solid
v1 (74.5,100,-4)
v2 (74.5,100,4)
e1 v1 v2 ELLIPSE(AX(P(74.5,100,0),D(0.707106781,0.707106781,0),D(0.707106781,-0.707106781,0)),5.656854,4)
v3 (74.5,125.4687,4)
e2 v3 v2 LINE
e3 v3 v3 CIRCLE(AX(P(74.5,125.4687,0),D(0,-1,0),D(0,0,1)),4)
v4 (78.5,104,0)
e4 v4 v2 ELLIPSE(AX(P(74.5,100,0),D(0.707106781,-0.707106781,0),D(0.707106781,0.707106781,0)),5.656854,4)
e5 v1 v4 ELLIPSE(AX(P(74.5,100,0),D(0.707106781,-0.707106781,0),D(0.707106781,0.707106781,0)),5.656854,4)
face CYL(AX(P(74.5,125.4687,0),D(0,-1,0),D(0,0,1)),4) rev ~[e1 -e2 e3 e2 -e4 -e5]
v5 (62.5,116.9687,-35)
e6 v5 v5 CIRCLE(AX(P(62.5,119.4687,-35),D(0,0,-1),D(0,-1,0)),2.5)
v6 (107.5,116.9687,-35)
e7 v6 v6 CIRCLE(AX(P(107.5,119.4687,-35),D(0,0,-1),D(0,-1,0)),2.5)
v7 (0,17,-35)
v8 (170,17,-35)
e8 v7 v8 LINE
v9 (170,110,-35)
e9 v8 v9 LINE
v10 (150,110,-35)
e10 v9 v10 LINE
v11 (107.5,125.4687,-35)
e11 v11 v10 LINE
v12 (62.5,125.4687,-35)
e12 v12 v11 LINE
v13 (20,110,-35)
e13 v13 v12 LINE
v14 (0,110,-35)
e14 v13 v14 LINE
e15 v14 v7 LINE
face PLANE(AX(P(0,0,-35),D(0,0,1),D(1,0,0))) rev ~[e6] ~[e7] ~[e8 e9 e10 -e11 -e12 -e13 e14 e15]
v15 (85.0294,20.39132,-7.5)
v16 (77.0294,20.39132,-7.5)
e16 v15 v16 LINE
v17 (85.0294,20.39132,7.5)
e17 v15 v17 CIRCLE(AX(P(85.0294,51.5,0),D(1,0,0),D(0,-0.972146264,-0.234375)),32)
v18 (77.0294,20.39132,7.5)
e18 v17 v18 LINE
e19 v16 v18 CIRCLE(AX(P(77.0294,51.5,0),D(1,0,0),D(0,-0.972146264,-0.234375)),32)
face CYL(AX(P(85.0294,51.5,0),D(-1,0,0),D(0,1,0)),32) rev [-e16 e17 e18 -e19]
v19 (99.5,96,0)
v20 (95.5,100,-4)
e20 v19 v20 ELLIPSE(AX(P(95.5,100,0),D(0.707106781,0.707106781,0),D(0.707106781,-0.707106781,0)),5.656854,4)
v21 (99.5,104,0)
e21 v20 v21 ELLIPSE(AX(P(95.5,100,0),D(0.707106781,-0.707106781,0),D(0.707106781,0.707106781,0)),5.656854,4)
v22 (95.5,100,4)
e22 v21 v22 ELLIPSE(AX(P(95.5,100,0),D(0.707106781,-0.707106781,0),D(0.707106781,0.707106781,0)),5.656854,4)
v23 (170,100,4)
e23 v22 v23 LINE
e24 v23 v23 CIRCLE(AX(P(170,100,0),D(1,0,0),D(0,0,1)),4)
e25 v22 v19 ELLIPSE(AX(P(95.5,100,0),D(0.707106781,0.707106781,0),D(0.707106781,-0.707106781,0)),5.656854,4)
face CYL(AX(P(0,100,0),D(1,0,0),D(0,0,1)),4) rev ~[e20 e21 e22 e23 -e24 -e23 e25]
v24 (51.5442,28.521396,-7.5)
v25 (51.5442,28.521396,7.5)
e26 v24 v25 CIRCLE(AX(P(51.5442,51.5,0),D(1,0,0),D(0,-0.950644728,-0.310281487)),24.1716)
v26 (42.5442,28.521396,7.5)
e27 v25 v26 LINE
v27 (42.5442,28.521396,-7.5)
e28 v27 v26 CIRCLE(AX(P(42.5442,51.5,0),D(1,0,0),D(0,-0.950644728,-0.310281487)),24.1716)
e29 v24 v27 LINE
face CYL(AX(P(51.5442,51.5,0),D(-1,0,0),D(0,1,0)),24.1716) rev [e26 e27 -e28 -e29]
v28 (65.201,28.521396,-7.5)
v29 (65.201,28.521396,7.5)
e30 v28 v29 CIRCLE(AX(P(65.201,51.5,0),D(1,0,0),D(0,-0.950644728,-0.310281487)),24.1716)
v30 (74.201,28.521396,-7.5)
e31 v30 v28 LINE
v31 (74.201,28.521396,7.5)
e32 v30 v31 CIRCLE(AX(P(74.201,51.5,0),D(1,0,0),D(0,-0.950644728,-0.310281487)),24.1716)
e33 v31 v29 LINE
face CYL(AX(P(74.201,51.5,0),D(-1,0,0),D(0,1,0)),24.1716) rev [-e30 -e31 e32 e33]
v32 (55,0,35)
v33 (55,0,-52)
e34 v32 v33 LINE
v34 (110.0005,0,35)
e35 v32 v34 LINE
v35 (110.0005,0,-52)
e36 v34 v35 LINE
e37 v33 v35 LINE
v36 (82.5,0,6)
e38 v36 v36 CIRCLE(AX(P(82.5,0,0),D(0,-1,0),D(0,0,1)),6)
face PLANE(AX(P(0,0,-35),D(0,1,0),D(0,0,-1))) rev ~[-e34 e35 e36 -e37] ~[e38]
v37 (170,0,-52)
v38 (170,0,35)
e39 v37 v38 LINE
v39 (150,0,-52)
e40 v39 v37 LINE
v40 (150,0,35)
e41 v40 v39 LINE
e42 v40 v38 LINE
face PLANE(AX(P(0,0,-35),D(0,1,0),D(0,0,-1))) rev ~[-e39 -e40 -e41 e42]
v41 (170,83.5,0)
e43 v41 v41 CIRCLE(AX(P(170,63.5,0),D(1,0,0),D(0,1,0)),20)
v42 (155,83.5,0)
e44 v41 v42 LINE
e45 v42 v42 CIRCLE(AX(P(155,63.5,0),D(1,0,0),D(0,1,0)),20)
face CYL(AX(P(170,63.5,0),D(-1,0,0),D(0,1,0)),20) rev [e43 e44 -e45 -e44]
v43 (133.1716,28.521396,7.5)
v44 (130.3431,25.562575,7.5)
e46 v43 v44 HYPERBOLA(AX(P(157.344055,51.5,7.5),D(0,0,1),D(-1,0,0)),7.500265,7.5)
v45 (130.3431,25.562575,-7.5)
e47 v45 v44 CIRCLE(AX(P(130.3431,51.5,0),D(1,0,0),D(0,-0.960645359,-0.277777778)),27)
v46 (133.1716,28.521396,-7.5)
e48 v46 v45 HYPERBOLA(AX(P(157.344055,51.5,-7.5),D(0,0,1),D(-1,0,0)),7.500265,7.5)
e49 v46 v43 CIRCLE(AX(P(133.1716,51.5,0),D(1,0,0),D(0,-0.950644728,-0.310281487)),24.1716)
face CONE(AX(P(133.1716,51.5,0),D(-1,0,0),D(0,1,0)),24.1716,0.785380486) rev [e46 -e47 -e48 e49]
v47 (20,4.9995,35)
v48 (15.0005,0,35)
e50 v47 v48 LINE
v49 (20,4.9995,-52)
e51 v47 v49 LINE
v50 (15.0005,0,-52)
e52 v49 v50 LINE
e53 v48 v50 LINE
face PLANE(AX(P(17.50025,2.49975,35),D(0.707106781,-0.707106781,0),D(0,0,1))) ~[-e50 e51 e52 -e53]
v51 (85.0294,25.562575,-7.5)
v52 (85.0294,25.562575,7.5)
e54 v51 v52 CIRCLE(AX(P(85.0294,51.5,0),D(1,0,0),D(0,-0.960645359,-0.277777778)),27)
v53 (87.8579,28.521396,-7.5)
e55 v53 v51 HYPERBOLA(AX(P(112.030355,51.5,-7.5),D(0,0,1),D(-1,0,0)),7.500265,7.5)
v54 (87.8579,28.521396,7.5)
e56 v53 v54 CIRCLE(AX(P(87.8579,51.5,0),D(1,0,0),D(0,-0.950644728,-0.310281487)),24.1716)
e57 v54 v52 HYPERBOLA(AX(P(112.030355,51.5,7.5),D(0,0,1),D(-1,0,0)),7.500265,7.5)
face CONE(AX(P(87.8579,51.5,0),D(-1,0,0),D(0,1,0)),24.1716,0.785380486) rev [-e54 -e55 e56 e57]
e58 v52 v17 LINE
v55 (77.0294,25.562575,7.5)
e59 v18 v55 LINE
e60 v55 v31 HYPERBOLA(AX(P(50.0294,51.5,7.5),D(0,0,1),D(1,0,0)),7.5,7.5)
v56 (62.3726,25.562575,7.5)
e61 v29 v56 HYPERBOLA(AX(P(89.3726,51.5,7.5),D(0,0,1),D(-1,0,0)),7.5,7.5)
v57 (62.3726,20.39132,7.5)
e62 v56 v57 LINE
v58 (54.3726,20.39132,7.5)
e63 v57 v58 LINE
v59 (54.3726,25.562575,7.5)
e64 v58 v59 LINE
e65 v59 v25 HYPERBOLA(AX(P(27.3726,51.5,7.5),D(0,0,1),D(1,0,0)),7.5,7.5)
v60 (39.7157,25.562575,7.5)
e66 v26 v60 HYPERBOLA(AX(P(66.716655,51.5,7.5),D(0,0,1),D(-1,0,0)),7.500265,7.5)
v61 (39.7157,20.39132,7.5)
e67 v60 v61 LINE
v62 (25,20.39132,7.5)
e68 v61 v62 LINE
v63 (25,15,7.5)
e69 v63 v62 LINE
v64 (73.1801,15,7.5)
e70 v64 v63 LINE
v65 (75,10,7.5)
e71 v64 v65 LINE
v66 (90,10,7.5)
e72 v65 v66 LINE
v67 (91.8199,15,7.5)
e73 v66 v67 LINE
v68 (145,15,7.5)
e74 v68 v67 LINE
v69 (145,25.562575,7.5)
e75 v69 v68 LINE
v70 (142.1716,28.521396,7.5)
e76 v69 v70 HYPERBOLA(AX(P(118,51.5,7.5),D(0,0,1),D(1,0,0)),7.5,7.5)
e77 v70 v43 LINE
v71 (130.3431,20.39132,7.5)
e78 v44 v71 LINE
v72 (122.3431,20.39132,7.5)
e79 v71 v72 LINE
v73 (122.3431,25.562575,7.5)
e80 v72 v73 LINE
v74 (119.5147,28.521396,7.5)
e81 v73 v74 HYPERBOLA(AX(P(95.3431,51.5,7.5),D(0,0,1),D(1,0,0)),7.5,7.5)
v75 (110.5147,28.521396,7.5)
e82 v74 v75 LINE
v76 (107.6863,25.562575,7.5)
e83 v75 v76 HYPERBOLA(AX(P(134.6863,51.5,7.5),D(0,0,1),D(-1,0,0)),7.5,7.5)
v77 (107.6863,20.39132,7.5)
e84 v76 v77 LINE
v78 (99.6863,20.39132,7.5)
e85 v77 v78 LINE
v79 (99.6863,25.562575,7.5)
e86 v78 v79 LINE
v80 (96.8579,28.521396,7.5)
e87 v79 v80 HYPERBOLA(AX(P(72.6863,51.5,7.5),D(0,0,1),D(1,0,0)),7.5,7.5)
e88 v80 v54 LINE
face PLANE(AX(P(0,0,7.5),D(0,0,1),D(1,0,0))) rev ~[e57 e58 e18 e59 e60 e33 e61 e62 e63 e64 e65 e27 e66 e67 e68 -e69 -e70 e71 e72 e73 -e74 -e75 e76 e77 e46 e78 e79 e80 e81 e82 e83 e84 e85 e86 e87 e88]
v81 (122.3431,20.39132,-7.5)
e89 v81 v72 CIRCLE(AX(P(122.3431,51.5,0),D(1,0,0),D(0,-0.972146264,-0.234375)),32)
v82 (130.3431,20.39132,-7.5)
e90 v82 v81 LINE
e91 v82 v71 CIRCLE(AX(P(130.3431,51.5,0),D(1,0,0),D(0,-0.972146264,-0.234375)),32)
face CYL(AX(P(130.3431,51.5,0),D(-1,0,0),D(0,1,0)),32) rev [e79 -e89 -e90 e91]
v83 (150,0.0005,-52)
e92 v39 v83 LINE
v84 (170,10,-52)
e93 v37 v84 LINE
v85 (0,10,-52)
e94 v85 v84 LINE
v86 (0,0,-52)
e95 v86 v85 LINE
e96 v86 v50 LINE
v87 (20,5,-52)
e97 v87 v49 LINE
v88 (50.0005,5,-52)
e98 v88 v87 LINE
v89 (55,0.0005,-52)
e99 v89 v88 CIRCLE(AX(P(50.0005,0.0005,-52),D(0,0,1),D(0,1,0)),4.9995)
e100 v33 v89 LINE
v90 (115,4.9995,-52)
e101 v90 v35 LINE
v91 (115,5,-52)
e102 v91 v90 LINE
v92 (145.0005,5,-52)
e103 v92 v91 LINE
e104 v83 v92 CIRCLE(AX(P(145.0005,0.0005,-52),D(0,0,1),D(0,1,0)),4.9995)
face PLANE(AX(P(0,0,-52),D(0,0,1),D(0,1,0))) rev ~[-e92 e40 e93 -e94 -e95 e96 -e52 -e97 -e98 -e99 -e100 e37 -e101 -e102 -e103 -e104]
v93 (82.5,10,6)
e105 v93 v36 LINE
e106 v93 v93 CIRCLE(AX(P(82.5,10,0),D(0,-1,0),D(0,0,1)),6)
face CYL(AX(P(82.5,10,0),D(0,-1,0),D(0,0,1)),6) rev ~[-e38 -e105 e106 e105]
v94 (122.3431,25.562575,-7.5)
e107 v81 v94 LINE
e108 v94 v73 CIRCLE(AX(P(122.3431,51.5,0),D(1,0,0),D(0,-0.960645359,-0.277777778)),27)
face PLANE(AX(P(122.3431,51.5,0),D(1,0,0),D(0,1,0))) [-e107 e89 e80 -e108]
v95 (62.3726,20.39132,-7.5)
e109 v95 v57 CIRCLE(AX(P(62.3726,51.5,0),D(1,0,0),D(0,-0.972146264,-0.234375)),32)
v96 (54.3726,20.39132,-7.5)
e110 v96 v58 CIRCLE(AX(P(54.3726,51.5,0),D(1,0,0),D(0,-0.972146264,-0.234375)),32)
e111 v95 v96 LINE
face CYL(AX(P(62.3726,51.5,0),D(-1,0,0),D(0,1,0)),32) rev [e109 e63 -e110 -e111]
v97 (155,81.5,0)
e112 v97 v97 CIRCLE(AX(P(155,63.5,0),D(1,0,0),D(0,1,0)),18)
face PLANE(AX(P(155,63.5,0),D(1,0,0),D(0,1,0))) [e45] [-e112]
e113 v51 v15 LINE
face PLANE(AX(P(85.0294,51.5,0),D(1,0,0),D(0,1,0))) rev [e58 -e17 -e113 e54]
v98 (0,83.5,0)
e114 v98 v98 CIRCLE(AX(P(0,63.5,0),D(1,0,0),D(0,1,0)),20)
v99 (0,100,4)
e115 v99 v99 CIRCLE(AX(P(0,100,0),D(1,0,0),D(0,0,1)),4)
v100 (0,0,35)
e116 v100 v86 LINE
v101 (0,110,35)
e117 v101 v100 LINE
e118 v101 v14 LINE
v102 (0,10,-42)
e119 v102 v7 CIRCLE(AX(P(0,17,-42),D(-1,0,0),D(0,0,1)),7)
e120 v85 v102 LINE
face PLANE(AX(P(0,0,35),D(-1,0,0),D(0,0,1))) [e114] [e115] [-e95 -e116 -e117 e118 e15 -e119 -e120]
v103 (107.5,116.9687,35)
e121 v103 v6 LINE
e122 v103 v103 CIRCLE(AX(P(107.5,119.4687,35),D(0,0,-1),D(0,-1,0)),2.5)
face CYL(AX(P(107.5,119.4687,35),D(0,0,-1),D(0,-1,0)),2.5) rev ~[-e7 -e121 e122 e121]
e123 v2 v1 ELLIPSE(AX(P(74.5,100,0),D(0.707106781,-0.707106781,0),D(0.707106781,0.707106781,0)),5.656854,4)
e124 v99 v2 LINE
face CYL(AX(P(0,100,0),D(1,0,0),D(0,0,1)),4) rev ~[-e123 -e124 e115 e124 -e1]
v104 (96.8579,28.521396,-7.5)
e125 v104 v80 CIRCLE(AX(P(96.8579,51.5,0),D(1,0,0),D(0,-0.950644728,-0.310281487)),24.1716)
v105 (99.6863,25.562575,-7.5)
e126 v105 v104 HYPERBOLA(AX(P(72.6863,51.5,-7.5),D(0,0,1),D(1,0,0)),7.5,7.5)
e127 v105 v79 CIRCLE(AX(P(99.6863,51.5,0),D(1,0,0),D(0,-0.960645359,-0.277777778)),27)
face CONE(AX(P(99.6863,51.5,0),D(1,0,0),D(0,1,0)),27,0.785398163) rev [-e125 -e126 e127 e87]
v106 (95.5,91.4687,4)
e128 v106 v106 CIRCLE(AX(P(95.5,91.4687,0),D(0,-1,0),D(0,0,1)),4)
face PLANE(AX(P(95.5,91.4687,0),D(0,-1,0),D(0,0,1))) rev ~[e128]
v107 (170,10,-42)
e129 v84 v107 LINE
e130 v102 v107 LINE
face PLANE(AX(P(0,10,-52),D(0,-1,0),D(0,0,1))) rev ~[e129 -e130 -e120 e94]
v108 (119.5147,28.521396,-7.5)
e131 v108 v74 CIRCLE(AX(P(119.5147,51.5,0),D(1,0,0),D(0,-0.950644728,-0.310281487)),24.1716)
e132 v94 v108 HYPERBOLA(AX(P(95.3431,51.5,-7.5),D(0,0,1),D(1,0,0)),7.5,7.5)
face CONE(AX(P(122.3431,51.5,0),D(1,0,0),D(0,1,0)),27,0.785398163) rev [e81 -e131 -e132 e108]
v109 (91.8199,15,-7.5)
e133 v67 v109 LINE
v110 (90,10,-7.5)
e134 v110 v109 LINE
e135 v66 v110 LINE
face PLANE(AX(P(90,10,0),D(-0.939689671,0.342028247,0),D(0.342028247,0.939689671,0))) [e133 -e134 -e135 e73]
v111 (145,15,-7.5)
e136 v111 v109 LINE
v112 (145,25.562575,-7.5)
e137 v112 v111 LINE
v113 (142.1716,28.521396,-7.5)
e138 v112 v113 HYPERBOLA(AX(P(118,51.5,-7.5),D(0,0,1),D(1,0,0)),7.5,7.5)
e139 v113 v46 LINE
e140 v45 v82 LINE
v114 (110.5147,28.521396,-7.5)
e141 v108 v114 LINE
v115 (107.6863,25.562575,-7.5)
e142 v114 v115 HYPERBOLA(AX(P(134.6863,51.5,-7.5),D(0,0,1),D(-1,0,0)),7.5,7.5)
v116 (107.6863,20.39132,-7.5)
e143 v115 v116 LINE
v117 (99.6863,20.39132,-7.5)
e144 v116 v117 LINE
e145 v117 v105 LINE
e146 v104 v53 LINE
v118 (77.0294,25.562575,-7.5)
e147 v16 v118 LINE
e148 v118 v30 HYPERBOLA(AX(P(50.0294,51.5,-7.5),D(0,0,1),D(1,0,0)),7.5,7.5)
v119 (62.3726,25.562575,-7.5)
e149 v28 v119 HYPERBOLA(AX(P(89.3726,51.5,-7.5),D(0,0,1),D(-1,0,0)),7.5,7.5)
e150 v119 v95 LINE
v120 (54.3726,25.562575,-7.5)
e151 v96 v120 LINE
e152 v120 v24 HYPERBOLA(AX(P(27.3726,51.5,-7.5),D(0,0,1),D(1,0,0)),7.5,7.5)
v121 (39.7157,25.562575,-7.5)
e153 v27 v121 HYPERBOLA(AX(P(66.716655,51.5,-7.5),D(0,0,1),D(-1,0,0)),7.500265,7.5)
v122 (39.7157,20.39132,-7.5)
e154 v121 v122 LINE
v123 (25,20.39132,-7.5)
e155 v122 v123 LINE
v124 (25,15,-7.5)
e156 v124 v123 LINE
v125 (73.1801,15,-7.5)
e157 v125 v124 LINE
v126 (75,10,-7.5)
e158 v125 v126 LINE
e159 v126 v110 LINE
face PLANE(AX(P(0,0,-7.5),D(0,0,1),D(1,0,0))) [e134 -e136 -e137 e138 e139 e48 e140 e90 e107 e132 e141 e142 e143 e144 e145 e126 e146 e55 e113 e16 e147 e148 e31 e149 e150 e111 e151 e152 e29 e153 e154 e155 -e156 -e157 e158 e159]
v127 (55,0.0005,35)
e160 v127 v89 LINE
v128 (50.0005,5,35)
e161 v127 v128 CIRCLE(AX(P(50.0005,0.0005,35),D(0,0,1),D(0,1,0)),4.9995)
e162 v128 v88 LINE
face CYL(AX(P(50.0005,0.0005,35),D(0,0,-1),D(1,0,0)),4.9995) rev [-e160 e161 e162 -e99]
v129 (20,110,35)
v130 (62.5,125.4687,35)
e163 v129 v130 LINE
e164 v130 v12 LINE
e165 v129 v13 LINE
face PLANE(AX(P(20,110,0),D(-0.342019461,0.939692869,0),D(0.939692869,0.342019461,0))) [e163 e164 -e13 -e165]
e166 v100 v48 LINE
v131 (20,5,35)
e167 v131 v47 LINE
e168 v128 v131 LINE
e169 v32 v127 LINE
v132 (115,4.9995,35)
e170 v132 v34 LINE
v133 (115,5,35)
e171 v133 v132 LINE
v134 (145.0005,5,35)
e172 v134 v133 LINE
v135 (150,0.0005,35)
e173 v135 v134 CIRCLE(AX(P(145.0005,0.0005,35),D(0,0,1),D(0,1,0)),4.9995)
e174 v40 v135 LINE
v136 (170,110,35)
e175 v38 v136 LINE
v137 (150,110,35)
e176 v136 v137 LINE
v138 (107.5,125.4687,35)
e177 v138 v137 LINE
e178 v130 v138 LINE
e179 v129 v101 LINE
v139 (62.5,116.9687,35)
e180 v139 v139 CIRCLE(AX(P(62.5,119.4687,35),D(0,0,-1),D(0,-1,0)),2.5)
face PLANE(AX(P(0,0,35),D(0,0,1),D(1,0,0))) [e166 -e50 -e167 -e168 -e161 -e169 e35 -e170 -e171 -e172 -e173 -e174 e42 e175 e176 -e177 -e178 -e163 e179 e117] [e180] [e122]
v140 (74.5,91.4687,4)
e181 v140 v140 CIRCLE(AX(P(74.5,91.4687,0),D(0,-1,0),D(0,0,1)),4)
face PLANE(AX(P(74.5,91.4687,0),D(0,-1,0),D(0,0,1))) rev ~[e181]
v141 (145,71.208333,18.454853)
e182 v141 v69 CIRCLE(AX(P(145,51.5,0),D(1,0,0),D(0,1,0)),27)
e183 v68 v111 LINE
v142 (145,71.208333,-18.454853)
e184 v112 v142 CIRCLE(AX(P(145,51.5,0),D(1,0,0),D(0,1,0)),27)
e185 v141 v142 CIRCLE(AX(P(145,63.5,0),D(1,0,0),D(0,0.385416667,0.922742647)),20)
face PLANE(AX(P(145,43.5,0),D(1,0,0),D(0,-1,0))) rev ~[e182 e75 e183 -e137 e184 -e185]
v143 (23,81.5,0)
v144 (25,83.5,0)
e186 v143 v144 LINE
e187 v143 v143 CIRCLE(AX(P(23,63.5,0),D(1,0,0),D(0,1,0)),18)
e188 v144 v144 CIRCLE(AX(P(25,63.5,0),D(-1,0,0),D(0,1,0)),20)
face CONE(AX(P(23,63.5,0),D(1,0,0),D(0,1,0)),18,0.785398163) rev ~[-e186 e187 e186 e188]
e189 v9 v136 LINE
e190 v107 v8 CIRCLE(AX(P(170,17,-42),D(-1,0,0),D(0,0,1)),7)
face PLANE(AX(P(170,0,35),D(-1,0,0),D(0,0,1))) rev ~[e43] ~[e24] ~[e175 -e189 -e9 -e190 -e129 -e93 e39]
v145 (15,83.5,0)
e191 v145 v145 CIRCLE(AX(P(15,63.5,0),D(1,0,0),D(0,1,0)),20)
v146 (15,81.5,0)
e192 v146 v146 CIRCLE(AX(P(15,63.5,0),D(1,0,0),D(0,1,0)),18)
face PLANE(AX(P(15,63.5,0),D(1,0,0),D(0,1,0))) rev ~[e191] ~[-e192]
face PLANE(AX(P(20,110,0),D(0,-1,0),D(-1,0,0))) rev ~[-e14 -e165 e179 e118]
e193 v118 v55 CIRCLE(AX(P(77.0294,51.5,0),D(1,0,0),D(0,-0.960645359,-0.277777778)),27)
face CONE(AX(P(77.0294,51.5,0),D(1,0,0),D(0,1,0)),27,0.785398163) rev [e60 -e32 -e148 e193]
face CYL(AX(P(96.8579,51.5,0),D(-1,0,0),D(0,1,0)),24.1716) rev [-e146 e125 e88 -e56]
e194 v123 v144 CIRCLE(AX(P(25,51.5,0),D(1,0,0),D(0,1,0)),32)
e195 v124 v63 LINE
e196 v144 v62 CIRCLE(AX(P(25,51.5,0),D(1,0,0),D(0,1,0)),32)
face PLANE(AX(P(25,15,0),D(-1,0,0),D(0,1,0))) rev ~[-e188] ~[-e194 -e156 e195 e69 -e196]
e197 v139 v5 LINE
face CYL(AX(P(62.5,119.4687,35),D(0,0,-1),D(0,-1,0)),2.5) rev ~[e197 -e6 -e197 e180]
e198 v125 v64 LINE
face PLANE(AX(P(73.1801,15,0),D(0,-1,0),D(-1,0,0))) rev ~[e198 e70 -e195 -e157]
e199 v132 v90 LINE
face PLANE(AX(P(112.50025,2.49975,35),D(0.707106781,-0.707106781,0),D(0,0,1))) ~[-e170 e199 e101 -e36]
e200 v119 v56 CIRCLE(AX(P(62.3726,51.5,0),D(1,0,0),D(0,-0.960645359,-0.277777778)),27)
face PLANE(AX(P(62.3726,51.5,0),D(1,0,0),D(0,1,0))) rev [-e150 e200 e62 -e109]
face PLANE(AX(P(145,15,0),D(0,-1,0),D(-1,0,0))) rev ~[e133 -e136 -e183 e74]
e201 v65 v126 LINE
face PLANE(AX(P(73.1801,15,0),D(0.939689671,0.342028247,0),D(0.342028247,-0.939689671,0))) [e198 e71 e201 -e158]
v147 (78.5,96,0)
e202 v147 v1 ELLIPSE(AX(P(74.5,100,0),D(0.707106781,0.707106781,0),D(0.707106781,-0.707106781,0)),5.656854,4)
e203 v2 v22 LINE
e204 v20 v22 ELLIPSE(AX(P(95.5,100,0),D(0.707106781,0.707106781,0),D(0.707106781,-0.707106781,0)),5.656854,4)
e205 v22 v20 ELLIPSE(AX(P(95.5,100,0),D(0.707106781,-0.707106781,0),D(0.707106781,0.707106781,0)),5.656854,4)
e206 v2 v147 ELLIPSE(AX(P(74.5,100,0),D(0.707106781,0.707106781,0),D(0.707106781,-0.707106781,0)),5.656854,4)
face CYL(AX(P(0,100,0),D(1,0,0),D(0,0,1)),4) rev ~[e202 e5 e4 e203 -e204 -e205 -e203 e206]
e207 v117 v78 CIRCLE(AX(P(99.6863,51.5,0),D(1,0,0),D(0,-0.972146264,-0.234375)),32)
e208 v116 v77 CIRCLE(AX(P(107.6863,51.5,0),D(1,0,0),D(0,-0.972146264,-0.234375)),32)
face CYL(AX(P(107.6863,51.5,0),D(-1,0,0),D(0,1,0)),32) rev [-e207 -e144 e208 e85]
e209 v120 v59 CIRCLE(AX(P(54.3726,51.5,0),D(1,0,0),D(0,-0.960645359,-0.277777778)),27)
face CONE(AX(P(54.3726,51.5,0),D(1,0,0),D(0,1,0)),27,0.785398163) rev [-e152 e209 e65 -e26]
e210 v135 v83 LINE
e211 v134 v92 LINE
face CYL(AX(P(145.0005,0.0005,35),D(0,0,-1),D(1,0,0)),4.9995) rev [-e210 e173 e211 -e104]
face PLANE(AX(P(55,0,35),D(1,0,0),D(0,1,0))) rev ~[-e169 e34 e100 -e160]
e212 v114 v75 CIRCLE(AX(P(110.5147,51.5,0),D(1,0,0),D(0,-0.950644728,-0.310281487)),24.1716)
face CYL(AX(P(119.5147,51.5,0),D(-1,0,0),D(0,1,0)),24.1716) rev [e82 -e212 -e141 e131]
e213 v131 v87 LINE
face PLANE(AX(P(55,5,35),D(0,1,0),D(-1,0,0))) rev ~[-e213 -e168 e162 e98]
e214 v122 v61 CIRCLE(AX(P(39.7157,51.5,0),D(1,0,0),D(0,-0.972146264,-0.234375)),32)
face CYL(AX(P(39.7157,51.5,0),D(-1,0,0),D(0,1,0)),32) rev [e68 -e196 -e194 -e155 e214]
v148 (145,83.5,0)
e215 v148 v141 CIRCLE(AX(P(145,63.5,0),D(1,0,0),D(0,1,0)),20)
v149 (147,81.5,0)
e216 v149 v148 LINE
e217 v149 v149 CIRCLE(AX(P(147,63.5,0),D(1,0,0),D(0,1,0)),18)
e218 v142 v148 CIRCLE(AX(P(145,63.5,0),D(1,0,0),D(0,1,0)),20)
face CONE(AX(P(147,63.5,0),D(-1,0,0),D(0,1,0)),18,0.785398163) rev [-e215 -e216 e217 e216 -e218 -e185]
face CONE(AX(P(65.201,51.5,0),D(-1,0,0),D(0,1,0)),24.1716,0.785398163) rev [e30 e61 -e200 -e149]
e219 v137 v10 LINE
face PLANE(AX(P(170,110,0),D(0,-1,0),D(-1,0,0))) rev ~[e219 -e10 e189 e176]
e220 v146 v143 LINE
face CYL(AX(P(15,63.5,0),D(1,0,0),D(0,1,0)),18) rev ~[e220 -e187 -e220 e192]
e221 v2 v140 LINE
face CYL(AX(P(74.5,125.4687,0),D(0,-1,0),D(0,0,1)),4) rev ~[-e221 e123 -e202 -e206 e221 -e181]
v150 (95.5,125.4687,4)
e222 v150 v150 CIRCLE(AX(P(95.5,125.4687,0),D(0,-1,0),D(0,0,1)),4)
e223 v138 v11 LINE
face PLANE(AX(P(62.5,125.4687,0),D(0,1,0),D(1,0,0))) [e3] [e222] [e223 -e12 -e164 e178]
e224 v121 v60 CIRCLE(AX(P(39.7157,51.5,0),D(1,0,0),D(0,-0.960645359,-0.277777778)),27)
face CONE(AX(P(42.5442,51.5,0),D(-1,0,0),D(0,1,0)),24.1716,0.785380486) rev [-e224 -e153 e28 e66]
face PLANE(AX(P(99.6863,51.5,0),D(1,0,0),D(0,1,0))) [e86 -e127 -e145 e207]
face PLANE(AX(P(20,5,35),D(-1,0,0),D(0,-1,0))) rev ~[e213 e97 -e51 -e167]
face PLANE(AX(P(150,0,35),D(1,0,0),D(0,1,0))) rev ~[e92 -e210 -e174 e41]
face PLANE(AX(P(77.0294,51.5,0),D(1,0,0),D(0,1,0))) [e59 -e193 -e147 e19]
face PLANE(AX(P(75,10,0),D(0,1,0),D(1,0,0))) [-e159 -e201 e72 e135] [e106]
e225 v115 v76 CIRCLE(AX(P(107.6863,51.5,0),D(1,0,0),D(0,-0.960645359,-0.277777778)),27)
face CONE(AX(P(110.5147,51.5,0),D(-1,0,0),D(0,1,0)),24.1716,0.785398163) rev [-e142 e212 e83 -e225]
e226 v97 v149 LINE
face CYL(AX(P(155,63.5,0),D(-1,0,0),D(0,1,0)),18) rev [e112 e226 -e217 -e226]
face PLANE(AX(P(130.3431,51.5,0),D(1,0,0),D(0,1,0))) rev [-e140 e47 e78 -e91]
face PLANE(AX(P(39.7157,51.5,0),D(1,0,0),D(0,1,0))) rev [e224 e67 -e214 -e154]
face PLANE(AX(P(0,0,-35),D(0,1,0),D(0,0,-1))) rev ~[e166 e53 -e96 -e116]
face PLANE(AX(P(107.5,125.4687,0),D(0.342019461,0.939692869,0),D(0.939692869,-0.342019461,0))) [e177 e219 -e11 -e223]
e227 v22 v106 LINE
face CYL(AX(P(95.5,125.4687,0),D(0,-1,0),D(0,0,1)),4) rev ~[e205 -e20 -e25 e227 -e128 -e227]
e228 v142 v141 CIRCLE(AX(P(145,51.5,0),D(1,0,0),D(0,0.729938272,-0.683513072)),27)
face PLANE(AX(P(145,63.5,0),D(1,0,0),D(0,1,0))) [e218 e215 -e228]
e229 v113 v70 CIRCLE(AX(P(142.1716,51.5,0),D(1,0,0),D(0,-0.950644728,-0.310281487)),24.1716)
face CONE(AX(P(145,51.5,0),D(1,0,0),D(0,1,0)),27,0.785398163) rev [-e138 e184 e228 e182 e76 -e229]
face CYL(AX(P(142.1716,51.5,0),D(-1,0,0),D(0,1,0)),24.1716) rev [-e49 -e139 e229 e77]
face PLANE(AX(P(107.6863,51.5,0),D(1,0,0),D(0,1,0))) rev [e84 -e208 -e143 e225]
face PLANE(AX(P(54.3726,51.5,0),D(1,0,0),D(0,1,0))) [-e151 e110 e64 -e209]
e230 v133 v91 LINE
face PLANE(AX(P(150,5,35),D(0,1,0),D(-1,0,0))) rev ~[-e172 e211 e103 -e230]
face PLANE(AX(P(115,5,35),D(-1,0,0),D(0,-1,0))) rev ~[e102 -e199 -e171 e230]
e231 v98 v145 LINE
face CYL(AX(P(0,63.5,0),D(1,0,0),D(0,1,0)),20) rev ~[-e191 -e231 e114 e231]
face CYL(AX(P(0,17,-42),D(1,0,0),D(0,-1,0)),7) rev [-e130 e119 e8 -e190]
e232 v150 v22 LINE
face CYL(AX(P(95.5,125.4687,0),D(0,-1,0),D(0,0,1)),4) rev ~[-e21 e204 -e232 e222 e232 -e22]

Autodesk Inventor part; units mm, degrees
ref_plane "YZ Plane" through (0, 0, 0) normal (1, 0, 0) x (0, 1, 0)
ref_plane "XZ Plane" through (0, 0, 0) normal (0, 1, 0) x (-1, 0, 0)
ref_plane "XY Plane" through (0, 0, 0) normal (0, 0, 1) x (1, 0, 0)
sketch "Эскиз1" plane through (0, 0, 0) normal (0, 0, 1) x (1, 0, 0)
  line L0 (0, 0) -> (170, 0)
  line L1 (170, 0) -> (170, 110)
  line L2 (170, 110) -> (150, 110)
  line L3 (0, 110) -> (0, 0)
  line L4 (20, 110) -> (62.5, 125.4687)
  line L5 (62.5, 125.4687) -> (107.5, 125.4687)
  line L6 (107.5, 125.4687) -> (150, 110)
  line L7 (20, 110) -> (0, 110)
  dimension "d0" = 170
  dimension "d1" = 110
  dimension "d3" = 45
  dimension "d4" = 160
  dimension "d5" = 160
  dimension "d6" = 20
extrude "Выдавливание1" add sketch "Эскиз1" along normal mid plane 70
sketch "Эскиз2" plane through (0, 0, 35) normal (-1, 0, 0) x (0, 0, 1)
  line L0 (-70, 0) -> (-87, 0)
  line L1 (-87, 0) -> (-87, 10)
  line L2 (-87, 10) -> (-70, 10)
  line L3 (-70, 10) -> (-70, 0)
  point P0 (-35, 0)
  dimension "d9" = 17
  dimension "d10" = 10
extrude "Выдавливание2" add sketch "Эскиз2" against normal blind 170
fillet "Сопряжение1" radius 7 1 edges at (85, 10, -35)
sketch "Эскиз3" plane through (0, 0, 35) normal (0, 0, 1) x (1, 0, 0)
  line L0 (0, 0) -> (170, 0) construction
  line L1 (20, 0) -> (55, 0)
  line L2 (55, 0) -> (55, 5)
  line L3 (55, 5) -> (20, 5)
  line L4 (20, 5) -> (20, 0)
  line L5 (115, 0) -> (150, 0)
  line L6 (150, 0) -> (150, 5)
  line L7 (150, 5) -> (115, 5)
  line L8 (115, 5) -> (115, 0)
  line L9 (20, 5) -> (0, 5) construction
  line L10 (0, 110) -> (0, 0) construction
  line L11 (115, 5) -> (55, 5) construction
  line L12 (150, 5) -> (170, 5) construction
  line L13 (170, 0) -> (170, 110) construction
  dimension "d14" = 35
  dimension "d15" = 5
  dimension "d16" = 35
  dimension "d17" = 5
  dimension "d18" = 20
extrude "Выдавливание3" cut sketch "Эскиз3" against normal through all
fillet "Сопряжение2" radius 5 2 edges at (150, 5, -8.5) (55, 5, -8.5)
chamfer "Фаска1" distance 5 angle 45 2 edges at (20, 0, -8.5) (115, 0, -8.5)
sketch "Эскиз4" plane through (0, 0, 35) normal (-1, 0, 0) x (0, 0, 1)
  line L0 (0, 110) -> (-70, 110) construction
  point P0 (-35, 0)
  point P1 (-35, 100)
  dimension "d25" = 10
hole "Отверстие1" at (0, 100, 0) direction (1, 0, 0) diameter 8 end through all
sketch "Эскиз5" plane through (62.5, 125.4687, 35) normal (0, 1, 0) x (1, 0, 0)
  line L0 (0, 70) -> (0, 0) construction
  line L1 (45, 70) -> (45, 0) construction
  point P0 (-62.5, 35)
  point P1 (12, 35)
  point P2 (33, 35)
  dimension "d33" = 12
  dimension "d34" = 12
hole "Отверстие2" at (74.5, 125.4687, 0) at (95.5, 125.4687, 0) direction (0, -1, 0) diameter 8 depth 34
sketch "Эскиз6" plane through (0, 0, 35) normal (0, 0, 1) x (1, 0, 0)
  line L0 (70.5, 125.4687) -> (78.5, 125.4687) projected
  line L1 (91.5, 125.4687) -> (99.5, 125.4687) projected
  line L2 (0, 96) -> (0, 104) projected
  line L3 (170, 104) -> (170, 96) projected
  line L4 (107.5, 125.4687) -> (62.5, 125.4687) projected
  point P0 (0, 0)
  point P1 (62.5, 119.4687)
  point P2 (107.5, 119.4687)
  dimension "d42" = 6
hole "Отверстие3" at (62.5, 119.4687, 35) at (107.5, 119.4687, 35) direction (0, 0, -1) diameter 5 end through all
sketch "Эскиз7" plane through (0, 0, 0) normal (0, 0, 1) x (1, 0, 0)
  line L0 (0, 17) -> (0, 110) construction
  line L1 (0, 63.5) -> (170, 63.5)
  line L2 (170, 110) -> (170, 17) construction
  line L3 (0, 83.5) -> (15, 83.5)
  line L4 (0, 63.5) -> (0, 83.5)
  line L5 (15, 83.5) -> (15, 81.5)
  line L6 (15, 81.5) -> (23, 81.5)
  line L7 (23, 81.5) -> (25, 83.5)
  line L8 (62.5, 125.4687) -> (107.5, 125.4687) construction
  line L9 (55, 0) -> (110, 0) projected
  line L10 (85, 125.4687) -> (85, 0) construction
  line L11 (170, 83.5) -> (155, 83.5)
  line L12 (170, 63.5) -> (170, 83.5)
  line L13 (155, 83.5) -> (155, 81.5)
  line L14 (155, 81.5) -> (147, 81.5)
  line L15 (147, 81.5) -> (145, 83.5)
  line L16 (145, 83.5) -> (145, 78.5)
  line L17 (145, 78.5) -> (142.1716, 75.6716)
  line L18 (142.1716, 75.6716) -> (133.1716, 75.6716)
  line L19 (133.1716, 75.6716) -> (130.3431, 78.5)
  line L20 (130.3431, 78.5) -> (130.3431, 83.5)
  line L21 (130.3431, 83.5) -> (122.3431, 83.5)
  line L22 (145, 83.5) -> (145, 78.5)
  line L23 (145, 78.5) -> (142.1716, 75.6716)
  line L24 (142.1716, 75.6716) -> (133.1716, 75.6716)
  line L25 (133.1716, 75.6716) -> (130.3431, 78.5)
  line L26 (130.3431, 78.5) -> (130.3431, 83.5)
  line L27 (130.3431, 83.5) -> (122.3431, 83.5)
  line L28 (122.3431, 83.5) -> (122.3431, 78.5)
  line L29 (122.3431, 78.5) -> (119.5147, 75.6716)
  line L30 (119.5147, 75.6716) -> (110.5147, 75.6716)
  line L31 (110.5147, 75.6716) -> (107.6863, 78.5)
  line L32 (107.6863, 78.5) -> (107.6863, 83.5)
  line L33 (107.6863, 83.5) -> (99.6863, 83.5)
  line L34 (99.6863, 83.5) -> (99.6863, 78.5)
  line L35 (99.6863, 78.5) -> (96.8579, 75.6716)
  line L36 (96.8579, 75.6716) -> (87.8579, 75.6716)
  line L37 (87.8579, 75.6716) -> (85.0294, 78.5)
  line L38 (85.0294, 78.5) -> (85.0294, 83.5)
  line L39 (85.0294, 83.5) -> (77.0294, 83.5)
  line L40 (77.0294, 83.5) -> (77.0294, 78.5)
  line L41 (77.0294, 78.5) -> (74.201, 75.6716)
  line L42 (74.201, 75.6716) -> (65.201, 75.6716)
  line L43 (65.201, 75.6716) -> (62.3726, 78.5)
  line L44 (62.3726, 78.5) -> (62.3726, 83.5)
  line L45 (62.3726, 83.5) -> (54.3726, 83.5)
  line L46 (62.3726, 83.5) -> (54.3726, 83.5)
  line L47 (62.3726, 78.5) -> (62.3726, 83.5)
  line L48 (65.201, 75.6716) -> (62.3726, 78.5)
  line L49 (74.201, 75.6716) -> (65.201, 75.6716)
  line L50 (77.0294, 78.5) -> (74.201, 75.6716)
  line L51 (77.0294, 83.5) -> (77.0294, 78.5)
  line L52 (39.7157, 83.5) -> (25, 83.5)
  line L53 (39.7157, 78.5) -> (39.7157, 83.5)
  line L54 (42.5442, 75.6716) -> (39.7157, 78.5)
  line L55 (51.5442, 75.6716) -> (42.5442, 75.6716)
  line L56 (54.3726, 78.5) -> (51.5442, 75.6716)
  line L57 (54.3726, 83.5) -> (54.3726, 78.5)
  line L58 (25, 83.5) -> (25, 63.5)
  line L59 (145, 83.5) -> (145, 63.5)
  point P0 (0, 0)
  dimension "d52" = 2
  dimension "d54" = 135
  dimension "d55" = 8
  dimension "d84" = 40
  dimension "d85" = 25
  dimension "d86" = 5
  dimension "d87" = 4
  dimension "d88" = 135
  dimension "d89" = 9
  dimension "d90" = 4
  dimension "d91" = 8
  dimension "d92" = 5
  dimension "d93" = 4
  dimension "d94" = 135
  dimension "d95" = 9
  dimension "d96" = 4
  dimension "d97" = 8
  dimension "d98" = 5
  dimension "d99" = 4
  dimension "d100" = 135
  dimension "d101" = 9
  dimension "d102" = 4
  dimension "d103" = 8
  dimension "d104" = 5
  dimension "d105" = 4
  dimension "d106" = 135
  dimension "d107" = 9
  dimension "d108" = 4
  dimension "d109" = 8
  dimension "d110" = 5
  dimension "d111" = 4
  dimension "d112" = 135
  dimension "d113" = 9
  dimension "d114" = 4
  dimension "d115" = 8
  dimension "d116" = 5
  dimension "d117" = 4
  dimension "d118" = 135
  dimension "d119" = 9
  dimension "d120" = 4
  dimension "d121" = 8
  dimension "d122" = 5
  dimension "d123" = 4
  dimension "d124" = 135
  dimension "d125" = 9
revolve "Вращение2" cut sketch "Эскиз7" angle 360 about axis through (0, 63.5, 0) along (1, 0, 0) contours L4 L3 L5 L6 L7 L58 L1 | L59 L16 L15 L14 L13 L11 L12 L1
sketch "Эскиз9" plane through (0, 0, 0) normal (0, 0, 1) x (1, 0, 0)
  line L0 (25, 83.5) -> (25, 43.5) construction
  line L1 (25, 43.5) -> (145, 43.5)
  line L2 (145, 43.5) -> (145, 15)
  line L3 (145, 15) -> (91.8199, 15)
  line L4 (25, 15) -> (25, 43.5)
  line L5 (145, 83.5) -> (145, 43.5) construction
  line L6 (50, 5) -> (20, 5) construction
  line L7 (73.1801, 15) -> (75, 10)
  line L8 (75, 10) -> (90, 10)
  line L9 (0, 17) -> (170, 17) construction
  line L10 (90, 10) -> (91.8199, 15)
  line L11 (73.1801, 15) -> (25, 15)
  line L12 (55, 0) -> (110, 0) construction
  point P0 (0, 0)
  point P1 (145, 63.5)
  point P2 (82.5, 10)
  point P3 (82.5, 0)
  dimension "d178" = 110
  dimension "d179" = 110
  dimension "d180" = 15
  dimension "d181" = 5
  dimension "d182" = 10
extrude "Выдавливание4" cut sketch "Эскиз9" along normal mid plane 15
sketch "Эскиз10" plane through (75, 10, -7.5) normal (0, 1, 0) x (1, 0, 0)
  line L0 (15, 0) -> (0, 0) construction
  line L1 (15, 0) -> (15, -15) construction
  point P0 (-75, -7.5)
  point P1 (7.5, -7.5)
  point P2 (7.5, 0)
  point P3 (15, -7.5)
hole "Отверстие4" at (82.5, 10, 0) direction (0, -1, 0) diameter 12 end through all
sketch "Эскиз11" plane through (0, 0, 0) normal (0, 0, 1) x (1, 0, 0)
  line L0 (0, 17) -> (0, 110) construction
  line L1 (0, 63.5) -> (170, 63.5)
  line L2 (170, 127) -> (170, 0) construction
  line L3 (0, 83.5) -> (15, 83.5)
  line L4 (0, 63.5) -> (0, 83.5)
  line L5 (15, 83.5) -> (15, 81.5)
  line L6 (15, 81.5) -> (23, 81.5)
  line L7 (23, 81.5) -> (25, 83.5)
  line L8 (62.5, 125.4687) -> (107.5, 125.4687) construction
  line L9 (55, 0) -> (110, 0) construction
  line L10 (85, 125.4687) -> (85, 0) construction
  line L11 (147, 81.5) -> (145, 83.5)
  line L12 (155, 81.5) -> (147, 81.5)
  line L13 (155, 83.5) -> (155, 81.5)
  line L14 (170, 83.5) -> (155, 83.5)
  line L15 (170, 63.5) -> (170, 83.5)
  line L16 (145, 83.5) -> (145, 78.5)
  line L17 (145, 78.5) -> (142.1716, 75.6716)
  line L18 (142.1716, 75.6716) -> (133.1716, 75.6716)
  line L19 (133.1716, 75.6716) -> (130.3431, 78.5)
  line L20 (130.3431, 78.5) -> (130.3431, 83.5)
  line L21 (130.3431, 83.5) -> (122.3431, 83.5)
  line L22 (130.3431, 83.5) -> (122.3431, 83.5)
  line L23 (130.3431, 78.5) -> (130.3431, 83.5)
  line L24 (133.1716, 75.6716) -> (130.3431, 78.5)
  line L25 (142.1716, 75.6716) -> (133.1716, 75.6716)
  line L26 (145, 78.5) -> (142.1716, 75.6716)
  line L27 (145, 83.5) -> (145, 78.5)
  line L28 (107.6863, 83.5) -> (99.6863, 83.5)
  line L29 (107.6863, 78.5) -> (107.6863, 83.5)
  line L30 (110.5147, 75.6716) -> (107.6863, 78.5)
  line L31 (119.5147, 75.6716) -> (110.5147, 75.6716)
  line L32 (122.3431, 78.5) -> (119.5147, 75.6716)
  line L33 (122.3431, 83.5) -> (122.3431, 78.5)
  line L34 (85.0294, 83.5) -> (77.0294, 83.5)
  line L35 (85.0294, 78.5) -> (85.0294, 83.5)
  line L36 (87.8579, 75.6716) -> (85.0294, 78.5)
  line L37 (96.8579, 75.6716) -> (87.8579, 75.6716)
  line L38 (99.6863, 78.5) -> (96.8579, 75.6716)
  line L39 (99.6863, 83.5) -> (99.6863, 78.5)
  line L40 (62.3726, 83.5) -> (54.3726, 83.5)
  line L41 (62.3726, 78.5) -> (62.3726, 83.5)
  line L42 (65.201, 75.6716) -> (62.3726, 78.5)
  line L43 (74.201, 75.6716) -> (65.201, 75.6716)
  line L44 (77.0294, 78.5) -> (74.201, 75.6716)
  line L45 (77.0294, 83.5) -> (77.0294, 78.5)
  line L46 (62.3726, 83.5) -> (54.3726, 83.5)
  line L47 (62.3726, 78.5) -> (62.3726, 83.5)
  line L48 (65.201, 75.6716) -> (62.3726, 78.5)
  line L49 (74.201, 75.6716) -> (65.201, 75.6716)
  line L50 (77.0294, 78.5) -> (74.201, 75.6716)
  line L51 (77.0294, 83.5) -> (77.0294, 78.5)
  line L52 (39.7157, 83.5) -> (25, 83.5)
  line L53 (39.7157, 78.5) -> (39.7157, 83.5)
  line L54 (42.5442, 75.6716) -> (39.7157, 78.5)
  line L55 (51.5442, 75.6716) -> (42.5442, 75.6716)
  line L56 (54.3726, 78.5) -> (51.5442, 75.6716)
  line L57 (54.3726, 83.5) -> (54.3726, 78.5)
  line L58 (25, 83.5) -> (25, 51.5)
  line L59 (145, 83.5) -> (145, 51.5)
  line L60 (0, 17) -> (0, 110) projected
  line L61 (62.5, 125.4687) -> (107.5, 125.4687) projected
  line L62 (55, 0) -> (110, 0) projected
  line L63 (0, 51.5) -> (170, 51.5)
  point P0 (170, 110)
  point P1 (82.5, 0)
  dimension "d193" = 2
  dimension "d194" = 135
  dimension "d195" = 8
  dimension "d196" = 40
  dimension "d197" = 25
  dimension "d198" = 5
  dimension "d199" = 4
  dimension "d200" = 135
  dimension "d201" = 9
  dimension "d202" = 4
  dimension "d203" = 8
  dimension "d204" = 5
  dimension "d205" = 4
  dimension "d206" = 135
  dimension "d207" = 9
  dimension "d208" = 4
  dimension "d209" = 8
  dimension "d210" = 5
  dimension "d211" = 4
  dimension "d212" = 135
  dimension "d213" = 9
  dimension "d214" = 4
  dimension "d215" = 8
  dimension "d216" = 5
  dimension "d217" = 4
  dimension "d218" = 135
  dimension "d219" = 9
  dimension "d220" = 4
  dimension "d221" = 8
  dimension "d222" = 5
  dimension "d223" = 4
  dimension "d224" = 135
  dimension "d225" = 9
  dimension "d226" = 4
  dimension "d227" = 8
  dimension "d228" = 5
  dimension "d229" = 4
  dimension "d230" = 135
  dimension "d231" = 9
  dimension "d232" = 4
  dimension "d233" = 8
  dimension "d234" = 5
  dimension "d235" = 4
  dimension "d236" = 135
  dimension "d237" = 9
  dimension "d238" = 12
revolve "Вращение4" cut sketch "Эскиз11" angle 360 about axis through (0, 51.5, 0) along (1, 0, 0) contours L58 L52 L53 L54 L55 L56 L57 L40 L41 L42 L43 L44 L45 L34 L35 L36 L37 L38 L39 L28 L29 L30 L31 L32 L33 L21 L20 L19 L18 L17 L59 L1 | L1 L59 L63 L58
properties part number "731113"
